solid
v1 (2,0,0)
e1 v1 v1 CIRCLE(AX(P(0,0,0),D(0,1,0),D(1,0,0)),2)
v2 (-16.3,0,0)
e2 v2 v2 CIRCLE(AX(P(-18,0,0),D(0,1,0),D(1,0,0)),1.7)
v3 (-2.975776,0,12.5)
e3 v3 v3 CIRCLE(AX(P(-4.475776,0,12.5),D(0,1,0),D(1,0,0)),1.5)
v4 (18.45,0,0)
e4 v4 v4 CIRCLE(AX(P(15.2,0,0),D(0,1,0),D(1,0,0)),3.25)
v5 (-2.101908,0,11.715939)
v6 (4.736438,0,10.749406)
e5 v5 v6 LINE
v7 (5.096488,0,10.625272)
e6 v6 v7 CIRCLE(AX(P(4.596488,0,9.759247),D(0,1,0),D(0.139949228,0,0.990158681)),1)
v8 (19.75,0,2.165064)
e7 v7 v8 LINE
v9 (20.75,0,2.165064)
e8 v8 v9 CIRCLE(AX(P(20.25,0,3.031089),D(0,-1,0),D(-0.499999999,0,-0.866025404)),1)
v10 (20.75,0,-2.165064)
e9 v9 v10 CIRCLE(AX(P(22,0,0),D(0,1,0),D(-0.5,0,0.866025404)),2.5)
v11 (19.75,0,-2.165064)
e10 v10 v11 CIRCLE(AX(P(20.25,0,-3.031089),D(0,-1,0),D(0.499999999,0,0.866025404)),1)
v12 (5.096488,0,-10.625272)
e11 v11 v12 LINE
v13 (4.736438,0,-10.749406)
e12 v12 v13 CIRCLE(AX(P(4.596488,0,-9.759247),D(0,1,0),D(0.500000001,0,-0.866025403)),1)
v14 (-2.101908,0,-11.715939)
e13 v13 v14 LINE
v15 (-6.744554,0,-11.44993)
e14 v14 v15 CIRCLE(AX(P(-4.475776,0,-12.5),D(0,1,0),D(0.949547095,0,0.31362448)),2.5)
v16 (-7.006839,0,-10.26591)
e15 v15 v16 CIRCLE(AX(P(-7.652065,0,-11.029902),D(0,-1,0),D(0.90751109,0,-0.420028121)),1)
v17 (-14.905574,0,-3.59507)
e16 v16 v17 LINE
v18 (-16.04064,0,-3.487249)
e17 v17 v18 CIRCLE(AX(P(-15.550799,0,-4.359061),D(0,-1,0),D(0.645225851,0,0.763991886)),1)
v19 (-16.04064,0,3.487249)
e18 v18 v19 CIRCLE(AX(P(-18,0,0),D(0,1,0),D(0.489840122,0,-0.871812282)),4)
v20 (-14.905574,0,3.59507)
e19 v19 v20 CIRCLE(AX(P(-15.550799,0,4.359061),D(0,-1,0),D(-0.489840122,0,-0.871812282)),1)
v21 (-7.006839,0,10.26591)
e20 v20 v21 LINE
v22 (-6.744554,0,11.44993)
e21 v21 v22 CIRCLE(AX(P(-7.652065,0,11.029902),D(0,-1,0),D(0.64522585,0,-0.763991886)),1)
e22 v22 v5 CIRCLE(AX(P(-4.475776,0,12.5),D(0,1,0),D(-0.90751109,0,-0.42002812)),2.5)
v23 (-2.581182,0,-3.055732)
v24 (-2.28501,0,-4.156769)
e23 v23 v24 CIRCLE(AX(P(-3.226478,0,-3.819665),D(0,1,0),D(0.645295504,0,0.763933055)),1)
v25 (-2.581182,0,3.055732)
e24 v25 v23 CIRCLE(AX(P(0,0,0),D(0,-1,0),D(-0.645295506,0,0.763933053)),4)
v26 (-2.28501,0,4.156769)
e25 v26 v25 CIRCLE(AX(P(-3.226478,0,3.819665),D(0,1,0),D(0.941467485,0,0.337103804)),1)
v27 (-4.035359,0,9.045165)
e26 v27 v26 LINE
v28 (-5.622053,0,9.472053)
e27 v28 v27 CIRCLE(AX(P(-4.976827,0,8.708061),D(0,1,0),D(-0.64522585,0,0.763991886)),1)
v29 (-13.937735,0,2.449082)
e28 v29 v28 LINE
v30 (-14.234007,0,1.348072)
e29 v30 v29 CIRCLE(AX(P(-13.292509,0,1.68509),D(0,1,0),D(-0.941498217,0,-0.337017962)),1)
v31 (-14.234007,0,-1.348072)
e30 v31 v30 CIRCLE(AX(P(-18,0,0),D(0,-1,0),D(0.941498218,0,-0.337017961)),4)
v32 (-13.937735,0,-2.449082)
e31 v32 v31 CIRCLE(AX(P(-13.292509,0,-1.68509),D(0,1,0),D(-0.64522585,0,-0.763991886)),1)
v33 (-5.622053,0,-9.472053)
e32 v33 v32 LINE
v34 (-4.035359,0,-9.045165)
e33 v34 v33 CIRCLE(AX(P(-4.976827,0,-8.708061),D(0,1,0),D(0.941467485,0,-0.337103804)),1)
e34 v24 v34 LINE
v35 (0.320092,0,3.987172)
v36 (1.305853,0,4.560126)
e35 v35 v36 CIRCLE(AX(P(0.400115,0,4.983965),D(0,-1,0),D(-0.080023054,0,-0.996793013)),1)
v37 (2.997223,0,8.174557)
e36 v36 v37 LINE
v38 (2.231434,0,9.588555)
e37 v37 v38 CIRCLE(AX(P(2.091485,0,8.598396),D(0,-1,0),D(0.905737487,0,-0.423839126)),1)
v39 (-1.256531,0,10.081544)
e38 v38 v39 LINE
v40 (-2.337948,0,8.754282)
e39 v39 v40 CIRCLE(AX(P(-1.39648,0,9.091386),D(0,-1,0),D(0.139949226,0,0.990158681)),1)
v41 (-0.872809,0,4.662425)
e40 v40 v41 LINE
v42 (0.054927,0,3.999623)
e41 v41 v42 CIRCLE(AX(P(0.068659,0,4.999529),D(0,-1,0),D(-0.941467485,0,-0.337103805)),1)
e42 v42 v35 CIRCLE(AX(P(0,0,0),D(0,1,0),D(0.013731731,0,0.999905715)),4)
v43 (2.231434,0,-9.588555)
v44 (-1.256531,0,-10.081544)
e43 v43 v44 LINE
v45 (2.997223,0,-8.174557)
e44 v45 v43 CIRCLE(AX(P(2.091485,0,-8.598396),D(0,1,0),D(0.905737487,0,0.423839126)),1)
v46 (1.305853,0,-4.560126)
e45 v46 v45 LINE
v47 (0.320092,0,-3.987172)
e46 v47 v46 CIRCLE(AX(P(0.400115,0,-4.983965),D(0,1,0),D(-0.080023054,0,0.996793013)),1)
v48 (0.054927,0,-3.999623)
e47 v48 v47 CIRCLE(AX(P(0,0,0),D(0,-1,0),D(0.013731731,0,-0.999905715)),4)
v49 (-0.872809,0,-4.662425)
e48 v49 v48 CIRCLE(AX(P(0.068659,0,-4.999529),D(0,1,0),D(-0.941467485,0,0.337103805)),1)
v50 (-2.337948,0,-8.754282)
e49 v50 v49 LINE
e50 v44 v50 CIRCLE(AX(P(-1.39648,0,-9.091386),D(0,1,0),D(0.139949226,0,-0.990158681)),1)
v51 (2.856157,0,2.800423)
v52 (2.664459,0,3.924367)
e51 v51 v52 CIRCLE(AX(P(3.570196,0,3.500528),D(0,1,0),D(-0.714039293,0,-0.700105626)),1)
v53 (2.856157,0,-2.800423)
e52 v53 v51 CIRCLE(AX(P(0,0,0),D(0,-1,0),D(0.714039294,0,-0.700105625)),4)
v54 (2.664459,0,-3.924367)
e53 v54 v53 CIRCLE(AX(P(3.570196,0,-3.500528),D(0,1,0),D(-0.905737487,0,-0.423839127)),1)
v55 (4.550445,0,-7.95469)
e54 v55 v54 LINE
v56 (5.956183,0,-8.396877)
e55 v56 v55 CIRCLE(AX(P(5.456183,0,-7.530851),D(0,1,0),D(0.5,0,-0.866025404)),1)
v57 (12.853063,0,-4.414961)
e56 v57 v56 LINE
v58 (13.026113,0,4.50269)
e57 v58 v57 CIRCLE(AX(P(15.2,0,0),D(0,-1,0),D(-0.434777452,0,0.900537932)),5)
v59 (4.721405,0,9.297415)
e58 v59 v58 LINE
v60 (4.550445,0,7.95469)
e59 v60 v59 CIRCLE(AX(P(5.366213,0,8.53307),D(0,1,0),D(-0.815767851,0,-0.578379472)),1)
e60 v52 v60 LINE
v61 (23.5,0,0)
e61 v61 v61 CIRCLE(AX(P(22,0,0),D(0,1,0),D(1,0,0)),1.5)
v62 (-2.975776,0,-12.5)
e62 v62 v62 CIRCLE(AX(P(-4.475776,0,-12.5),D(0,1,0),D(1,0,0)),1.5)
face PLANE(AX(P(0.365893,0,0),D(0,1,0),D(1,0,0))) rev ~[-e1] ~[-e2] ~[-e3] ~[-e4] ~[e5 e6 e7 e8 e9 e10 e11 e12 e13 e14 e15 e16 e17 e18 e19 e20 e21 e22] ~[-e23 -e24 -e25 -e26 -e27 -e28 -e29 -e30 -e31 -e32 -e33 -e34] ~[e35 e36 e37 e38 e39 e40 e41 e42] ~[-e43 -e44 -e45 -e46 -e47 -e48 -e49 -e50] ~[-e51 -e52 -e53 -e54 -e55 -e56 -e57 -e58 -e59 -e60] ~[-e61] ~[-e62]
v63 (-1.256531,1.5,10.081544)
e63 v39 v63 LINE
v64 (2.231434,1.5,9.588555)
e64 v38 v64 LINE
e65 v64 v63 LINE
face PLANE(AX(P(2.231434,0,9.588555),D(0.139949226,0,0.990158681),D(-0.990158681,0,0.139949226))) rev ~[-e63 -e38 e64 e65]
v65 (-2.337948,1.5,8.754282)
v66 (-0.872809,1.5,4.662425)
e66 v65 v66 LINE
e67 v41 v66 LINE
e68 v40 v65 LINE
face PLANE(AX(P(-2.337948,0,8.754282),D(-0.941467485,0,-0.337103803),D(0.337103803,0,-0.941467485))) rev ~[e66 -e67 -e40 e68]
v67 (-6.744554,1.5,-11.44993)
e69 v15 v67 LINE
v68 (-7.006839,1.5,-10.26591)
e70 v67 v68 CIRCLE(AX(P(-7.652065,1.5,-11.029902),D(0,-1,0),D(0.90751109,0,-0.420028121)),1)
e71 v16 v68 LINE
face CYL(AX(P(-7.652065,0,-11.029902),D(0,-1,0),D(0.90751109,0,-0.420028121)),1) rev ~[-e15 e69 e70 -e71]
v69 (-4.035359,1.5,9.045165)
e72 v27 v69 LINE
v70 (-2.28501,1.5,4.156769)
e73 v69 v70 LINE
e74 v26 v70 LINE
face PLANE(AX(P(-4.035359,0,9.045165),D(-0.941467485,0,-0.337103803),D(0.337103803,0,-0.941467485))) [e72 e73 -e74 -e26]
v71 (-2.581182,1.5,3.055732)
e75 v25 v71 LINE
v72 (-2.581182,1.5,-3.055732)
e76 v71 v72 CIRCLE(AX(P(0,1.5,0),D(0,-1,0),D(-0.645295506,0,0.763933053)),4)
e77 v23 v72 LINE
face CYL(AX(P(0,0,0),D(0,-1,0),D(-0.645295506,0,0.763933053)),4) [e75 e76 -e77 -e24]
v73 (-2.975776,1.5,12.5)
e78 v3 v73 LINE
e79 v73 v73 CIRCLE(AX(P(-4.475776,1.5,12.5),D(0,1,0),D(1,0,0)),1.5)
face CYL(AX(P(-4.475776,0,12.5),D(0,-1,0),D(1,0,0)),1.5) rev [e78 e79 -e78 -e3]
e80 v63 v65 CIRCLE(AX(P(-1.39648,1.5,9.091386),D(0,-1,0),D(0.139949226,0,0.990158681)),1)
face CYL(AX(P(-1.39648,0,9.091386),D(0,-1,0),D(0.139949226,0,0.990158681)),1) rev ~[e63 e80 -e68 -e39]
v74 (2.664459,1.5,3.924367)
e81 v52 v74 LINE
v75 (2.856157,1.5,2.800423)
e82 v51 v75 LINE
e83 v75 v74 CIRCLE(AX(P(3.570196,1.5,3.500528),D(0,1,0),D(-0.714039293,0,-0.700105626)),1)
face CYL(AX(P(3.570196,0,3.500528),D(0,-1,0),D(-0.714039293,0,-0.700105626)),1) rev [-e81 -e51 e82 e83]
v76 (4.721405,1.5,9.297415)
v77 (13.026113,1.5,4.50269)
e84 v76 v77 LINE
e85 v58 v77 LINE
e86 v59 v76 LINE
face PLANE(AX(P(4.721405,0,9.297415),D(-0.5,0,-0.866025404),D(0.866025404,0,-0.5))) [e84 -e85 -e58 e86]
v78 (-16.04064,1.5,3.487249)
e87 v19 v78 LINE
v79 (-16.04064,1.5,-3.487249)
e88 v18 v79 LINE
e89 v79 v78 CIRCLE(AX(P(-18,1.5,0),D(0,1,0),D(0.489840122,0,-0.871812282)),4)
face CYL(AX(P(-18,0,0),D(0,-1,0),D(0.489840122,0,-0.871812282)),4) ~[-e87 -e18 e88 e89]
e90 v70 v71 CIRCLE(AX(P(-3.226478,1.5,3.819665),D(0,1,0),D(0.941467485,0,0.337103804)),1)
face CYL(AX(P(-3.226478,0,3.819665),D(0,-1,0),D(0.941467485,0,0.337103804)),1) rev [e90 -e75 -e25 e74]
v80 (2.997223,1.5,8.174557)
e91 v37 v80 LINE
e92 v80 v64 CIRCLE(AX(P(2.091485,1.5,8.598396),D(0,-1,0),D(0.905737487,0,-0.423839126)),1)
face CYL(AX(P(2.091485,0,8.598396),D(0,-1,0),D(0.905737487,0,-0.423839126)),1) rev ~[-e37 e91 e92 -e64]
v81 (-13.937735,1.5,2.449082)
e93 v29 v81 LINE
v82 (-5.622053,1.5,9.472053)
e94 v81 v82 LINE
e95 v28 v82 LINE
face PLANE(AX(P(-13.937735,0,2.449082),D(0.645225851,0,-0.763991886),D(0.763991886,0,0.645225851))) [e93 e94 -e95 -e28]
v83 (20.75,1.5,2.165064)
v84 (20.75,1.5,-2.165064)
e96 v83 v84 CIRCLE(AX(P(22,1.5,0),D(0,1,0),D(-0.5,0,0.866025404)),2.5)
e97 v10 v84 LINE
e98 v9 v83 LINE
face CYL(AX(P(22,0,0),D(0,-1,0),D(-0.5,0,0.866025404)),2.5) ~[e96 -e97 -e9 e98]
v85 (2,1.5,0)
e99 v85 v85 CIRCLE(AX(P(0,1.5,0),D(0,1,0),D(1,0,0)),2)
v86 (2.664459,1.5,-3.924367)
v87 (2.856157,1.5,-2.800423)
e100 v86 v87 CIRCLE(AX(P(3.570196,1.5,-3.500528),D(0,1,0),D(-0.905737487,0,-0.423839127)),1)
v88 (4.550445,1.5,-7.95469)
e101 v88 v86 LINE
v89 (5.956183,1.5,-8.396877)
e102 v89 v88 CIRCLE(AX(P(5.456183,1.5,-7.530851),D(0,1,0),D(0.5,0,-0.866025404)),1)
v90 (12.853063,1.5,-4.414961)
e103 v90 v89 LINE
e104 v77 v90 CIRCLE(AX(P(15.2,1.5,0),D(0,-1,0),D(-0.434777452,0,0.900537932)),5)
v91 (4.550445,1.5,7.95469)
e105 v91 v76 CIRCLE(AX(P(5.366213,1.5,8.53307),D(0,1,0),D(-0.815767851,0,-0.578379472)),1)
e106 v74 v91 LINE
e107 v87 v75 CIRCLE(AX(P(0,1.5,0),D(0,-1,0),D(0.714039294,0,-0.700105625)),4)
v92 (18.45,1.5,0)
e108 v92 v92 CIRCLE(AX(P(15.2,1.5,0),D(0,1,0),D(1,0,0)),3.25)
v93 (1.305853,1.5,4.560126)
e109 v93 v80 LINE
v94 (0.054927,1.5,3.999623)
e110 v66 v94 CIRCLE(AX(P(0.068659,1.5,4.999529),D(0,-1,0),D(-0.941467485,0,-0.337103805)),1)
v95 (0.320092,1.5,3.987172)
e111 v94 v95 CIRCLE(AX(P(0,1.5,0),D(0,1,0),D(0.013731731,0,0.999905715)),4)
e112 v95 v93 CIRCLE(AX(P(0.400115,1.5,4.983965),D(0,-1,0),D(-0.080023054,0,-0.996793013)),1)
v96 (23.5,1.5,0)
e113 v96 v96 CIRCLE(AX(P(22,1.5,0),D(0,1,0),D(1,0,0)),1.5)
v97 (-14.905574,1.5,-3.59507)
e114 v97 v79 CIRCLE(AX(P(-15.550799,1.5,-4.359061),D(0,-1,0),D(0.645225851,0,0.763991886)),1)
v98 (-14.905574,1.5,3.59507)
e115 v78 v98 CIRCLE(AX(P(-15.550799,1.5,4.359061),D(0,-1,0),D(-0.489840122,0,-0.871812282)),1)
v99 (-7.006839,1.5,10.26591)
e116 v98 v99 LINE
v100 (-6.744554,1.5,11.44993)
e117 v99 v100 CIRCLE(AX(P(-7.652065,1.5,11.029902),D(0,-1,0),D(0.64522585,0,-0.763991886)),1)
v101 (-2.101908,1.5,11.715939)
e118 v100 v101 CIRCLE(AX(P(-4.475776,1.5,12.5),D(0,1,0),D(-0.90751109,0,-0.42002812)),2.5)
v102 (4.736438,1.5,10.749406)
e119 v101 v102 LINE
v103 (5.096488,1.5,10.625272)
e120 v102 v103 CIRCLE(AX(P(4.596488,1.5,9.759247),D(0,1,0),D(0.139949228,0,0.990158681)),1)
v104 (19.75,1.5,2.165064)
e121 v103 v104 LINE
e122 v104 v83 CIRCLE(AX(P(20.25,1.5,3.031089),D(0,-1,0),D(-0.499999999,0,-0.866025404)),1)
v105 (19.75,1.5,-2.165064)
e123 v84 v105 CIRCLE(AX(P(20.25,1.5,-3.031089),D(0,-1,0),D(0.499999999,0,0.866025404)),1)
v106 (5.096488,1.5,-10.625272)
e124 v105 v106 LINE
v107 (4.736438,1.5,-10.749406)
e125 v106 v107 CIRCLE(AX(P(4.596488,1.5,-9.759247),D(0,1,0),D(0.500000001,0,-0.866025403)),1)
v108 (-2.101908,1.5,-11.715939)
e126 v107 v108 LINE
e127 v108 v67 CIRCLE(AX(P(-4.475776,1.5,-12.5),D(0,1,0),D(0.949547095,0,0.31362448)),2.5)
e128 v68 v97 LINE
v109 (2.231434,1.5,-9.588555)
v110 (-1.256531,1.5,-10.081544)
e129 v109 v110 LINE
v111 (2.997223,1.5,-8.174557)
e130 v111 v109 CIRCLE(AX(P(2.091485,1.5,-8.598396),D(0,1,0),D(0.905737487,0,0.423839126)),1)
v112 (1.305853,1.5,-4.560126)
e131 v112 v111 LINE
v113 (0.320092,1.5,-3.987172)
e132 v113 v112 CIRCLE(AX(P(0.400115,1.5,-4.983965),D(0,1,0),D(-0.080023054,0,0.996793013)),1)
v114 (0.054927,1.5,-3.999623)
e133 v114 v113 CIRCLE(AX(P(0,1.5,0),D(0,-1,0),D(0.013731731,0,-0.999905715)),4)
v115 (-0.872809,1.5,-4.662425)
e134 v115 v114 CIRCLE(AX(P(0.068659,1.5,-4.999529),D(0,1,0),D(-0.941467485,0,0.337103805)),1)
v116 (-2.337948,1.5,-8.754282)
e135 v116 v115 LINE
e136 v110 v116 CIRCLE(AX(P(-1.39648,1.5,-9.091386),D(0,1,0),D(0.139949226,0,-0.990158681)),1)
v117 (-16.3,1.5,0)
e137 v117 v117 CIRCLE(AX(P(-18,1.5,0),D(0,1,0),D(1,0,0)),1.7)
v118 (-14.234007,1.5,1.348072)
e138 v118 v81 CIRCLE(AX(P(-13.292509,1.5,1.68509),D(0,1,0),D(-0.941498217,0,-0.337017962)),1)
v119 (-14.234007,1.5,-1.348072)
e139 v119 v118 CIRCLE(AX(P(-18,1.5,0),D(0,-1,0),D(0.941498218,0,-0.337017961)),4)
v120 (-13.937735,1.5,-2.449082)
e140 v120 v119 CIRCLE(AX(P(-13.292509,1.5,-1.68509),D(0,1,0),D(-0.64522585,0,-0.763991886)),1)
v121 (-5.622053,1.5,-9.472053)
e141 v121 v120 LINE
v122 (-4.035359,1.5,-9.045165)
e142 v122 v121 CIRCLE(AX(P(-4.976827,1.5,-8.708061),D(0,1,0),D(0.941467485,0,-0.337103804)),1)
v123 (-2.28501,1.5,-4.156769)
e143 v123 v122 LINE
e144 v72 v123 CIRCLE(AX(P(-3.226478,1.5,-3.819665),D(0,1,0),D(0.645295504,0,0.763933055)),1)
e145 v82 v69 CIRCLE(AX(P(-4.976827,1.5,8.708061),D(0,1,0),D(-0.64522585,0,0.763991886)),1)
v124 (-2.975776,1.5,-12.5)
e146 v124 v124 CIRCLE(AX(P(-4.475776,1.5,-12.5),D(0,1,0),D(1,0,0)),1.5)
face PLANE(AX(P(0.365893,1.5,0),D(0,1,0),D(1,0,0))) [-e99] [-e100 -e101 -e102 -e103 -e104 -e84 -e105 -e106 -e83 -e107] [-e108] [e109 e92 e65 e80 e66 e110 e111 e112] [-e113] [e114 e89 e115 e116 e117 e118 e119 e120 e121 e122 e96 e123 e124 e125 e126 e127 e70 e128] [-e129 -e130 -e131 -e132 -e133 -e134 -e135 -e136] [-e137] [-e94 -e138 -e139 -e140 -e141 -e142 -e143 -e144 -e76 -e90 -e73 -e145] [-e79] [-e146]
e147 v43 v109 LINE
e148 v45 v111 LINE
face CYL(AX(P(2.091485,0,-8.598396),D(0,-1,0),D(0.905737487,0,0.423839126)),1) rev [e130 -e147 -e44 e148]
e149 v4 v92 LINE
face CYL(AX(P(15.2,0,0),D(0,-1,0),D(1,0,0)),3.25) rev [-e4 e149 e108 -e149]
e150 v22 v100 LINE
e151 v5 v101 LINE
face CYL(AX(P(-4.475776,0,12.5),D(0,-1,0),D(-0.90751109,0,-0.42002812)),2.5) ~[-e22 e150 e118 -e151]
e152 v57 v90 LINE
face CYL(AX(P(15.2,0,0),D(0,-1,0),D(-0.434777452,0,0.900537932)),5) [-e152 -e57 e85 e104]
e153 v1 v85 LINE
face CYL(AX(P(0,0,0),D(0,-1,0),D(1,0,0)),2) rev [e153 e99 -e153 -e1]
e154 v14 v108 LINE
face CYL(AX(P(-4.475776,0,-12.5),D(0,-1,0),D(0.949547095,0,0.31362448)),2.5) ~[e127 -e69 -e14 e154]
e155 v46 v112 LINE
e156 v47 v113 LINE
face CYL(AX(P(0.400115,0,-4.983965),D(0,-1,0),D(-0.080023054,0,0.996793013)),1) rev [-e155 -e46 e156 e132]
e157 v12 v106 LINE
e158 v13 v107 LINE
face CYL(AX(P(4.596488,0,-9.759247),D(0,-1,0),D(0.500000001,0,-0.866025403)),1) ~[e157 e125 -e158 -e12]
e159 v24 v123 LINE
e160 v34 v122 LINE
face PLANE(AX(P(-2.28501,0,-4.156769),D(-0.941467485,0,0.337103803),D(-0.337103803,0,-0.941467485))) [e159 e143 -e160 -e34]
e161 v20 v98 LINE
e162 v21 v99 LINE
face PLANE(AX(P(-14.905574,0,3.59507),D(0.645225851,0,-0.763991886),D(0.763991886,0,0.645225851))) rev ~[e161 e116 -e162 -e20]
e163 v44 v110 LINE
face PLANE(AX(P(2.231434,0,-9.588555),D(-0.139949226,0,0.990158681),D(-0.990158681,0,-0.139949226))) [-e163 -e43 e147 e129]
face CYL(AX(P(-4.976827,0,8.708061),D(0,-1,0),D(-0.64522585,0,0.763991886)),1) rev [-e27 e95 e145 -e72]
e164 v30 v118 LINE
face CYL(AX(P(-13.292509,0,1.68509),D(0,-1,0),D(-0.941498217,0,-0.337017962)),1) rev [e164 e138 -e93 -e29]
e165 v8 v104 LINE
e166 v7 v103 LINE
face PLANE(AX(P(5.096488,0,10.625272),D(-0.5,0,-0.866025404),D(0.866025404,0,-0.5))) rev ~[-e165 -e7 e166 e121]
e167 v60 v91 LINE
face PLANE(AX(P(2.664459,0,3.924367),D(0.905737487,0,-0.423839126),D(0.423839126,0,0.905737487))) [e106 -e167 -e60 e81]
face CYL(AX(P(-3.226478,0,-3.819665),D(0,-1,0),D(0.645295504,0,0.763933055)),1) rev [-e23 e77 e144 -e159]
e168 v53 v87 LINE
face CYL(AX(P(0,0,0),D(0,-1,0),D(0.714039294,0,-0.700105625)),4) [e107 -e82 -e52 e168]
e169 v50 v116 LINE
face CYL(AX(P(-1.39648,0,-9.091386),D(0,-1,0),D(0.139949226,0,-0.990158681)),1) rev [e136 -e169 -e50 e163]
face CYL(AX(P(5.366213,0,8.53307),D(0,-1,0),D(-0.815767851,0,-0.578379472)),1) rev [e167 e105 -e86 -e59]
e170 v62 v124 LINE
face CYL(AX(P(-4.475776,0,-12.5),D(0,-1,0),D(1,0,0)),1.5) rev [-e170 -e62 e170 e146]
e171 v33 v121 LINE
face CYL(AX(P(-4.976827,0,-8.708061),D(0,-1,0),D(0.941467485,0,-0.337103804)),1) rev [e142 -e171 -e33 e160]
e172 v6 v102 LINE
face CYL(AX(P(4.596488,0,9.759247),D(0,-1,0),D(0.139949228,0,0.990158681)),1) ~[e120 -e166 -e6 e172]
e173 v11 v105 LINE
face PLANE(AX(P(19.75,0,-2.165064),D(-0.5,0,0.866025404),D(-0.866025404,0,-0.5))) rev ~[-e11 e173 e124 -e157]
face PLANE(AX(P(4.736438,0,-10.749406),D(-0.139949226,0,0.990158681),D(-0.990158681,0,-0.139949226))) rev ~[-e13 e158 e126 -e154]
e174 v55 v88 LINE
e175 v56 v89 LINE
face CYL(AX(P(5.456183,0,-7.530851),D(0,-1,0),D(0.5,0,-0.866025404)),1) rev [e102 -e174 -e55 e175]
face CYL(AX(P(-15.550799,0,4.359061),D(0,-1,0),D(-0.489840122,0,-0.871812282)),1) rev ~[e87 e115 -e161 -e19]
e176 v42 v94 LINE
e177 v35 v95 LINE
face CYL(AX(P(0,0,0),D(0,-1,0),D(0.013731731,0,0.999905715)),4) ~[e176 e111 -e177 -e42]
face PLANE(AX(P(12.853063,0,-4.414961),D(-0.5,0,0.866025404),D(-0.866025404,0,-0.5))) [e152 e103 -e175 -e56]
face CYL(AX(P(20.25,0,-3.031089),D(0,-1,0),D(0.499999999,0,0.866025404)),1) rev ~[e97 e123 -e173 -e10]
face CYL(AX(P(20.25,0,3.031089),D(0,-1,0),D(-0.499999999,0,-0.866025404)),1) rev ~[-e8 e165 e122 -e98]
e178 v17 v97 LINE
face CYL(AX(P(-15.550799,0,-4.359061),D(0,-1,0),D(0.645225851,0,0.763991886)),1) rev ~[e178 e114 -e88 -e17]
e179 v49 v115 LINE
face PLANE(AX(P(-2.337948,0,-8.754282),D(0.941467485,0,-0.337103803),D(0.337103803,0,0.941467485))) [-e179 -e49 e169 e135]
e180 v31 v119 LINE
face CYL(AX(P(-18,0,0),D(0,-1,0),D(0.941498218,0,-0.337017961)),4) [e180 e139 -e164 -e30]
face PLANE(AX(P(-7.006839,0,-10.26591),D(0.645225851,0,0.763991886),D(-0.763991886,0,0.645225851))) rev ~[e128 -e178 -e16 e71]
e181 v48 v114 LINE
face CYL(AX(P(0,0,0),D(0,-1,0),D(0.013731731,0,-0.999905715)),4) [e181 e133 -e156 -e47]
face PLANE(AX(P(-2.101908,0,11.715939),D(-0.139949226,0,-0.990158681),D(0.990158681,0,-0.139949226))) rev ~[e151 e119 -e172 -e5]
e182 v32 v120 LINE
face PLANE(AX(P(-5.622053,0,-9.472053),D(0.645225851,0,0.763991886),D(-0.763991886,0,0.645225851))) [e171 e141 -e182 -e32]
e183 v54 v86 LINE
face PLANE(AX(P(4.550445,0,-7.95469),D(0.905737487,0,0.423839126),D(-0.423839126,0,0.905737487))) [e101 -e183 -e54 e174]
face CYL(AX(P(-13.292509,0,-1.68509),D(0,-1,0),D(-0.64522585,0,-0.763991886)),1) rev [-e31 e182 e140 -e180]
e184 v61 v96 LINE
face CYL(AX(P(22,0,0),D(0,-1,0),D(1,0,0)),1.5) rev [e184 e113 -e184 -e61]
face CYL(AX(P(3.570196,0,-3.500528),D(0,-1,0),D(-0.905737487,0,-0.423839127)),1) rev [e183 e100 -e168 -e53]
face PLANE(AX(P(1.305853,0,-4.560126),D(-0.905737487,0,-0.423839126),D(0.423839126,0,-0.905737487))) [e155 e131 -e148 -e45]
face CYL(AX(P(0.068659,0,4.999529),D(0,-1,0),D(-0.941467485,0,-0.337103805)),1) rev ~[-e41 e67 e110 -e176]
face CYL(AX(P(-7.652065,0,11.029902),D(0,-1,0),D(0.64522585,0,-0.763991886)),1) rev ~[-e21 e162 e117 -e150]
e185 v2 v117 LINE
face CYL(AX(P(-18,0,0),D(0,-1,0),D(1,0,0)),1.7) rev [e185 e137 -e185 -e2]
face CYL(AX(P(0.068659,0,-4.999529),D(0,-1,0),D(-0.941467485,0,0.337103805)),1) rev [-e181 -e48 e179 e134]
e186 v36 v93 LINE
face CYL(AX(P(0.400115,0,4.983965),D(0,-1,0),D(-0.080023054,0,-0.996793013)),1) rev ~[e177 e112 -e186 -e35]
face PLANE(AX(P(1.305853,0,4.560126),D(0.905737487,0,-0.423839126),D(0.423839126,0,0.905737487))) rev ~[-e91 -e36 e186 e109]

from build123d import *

# Parameters (mm, degrees)
SKETCH_1_R      = 2
SKETCH_1_R_2    = 1.7
SKETCH_1_R_3    = 1.5
SKETCH_1_R_4    = 3.25
EXTRUDE_1_DEPTH = 1.5


with BuildPart() as part:
    # 草图1 → 凸台-拉伸1 (new body)
    with BuildSketch(Plane(origin=(0, 0, 0), x_dir=(1, 0, 0), z_dir=(0, 1, 0))):
        with BuildLine():
            Line((19.75, 2.165063509), (5.096488448, 10.625272348))
            ThreePointArc((5.096488448, 10.625272348), (4.922427124, 10.704637858), (4.736437674, 10.749405626))
            Line((4.736437674, 10.749405626), (-2.101908222, 11.7159388))
            ThreePointArc((-2.101908222, 11.7159388), (-4.61878361, 14.995906411), (-6.744553684, 11.449929699))
            ThreePointArc((-6.744553684, 11.449929699), (-6.675732942, 10.813623622), (-7.006838923, 10.265909693))
            Line((-7.006838923, 10.265909693), (-14.905573539, 3.595069524))
            ThreePointArc((-14.905573539, 3.595069524), (-15.456234647, 3.363542696), (-16.040639512, 3.487249128))
            ThreePointArc((-16.040639512, 3.487249128), (-22, 0), (-16.040639512, -3.487249128))
            ThreePointArc((-16.040639512, -3.487249128), (-15.456234647, -3.363542696), (-14.905573539, -3.595069524))
            Line((-14.905573539, -3.595069524), (-7.006838923, -10.265909693))
            ThreePointArc((-7.006838923, -10.265909693), (-6.675732942, -10.813623622), (-6.744553684, -11.449929699))
            ThreePointArc((-6.744553684, -11.449929699), (-4.61878361, -14.995906411), (-2.101908222, -11.7159388))
            Line((-2.101908222, -11.7159388), (4.736437674, -10.749405626))
            ThreePointArc((4.736437674, -10.749405626), (4.922427124, -10.704637858), (5.096488448, -10.625272348))
            Line((5.096488448, -10.625272348), (19.75, -2.165063509))
            ThreePointArc((19.75, -2.165063509), (20.25, -2.031088913), (20.75, -2.165063509))
            ThreePointArc((20.75, -2.165063509), (24.5, 0), (20.75, 2.165063509))
            ThreePointArc((20.75, 2.165063509), (20.25, 2.031088913), (19.75, 2.165063509))
        make_face()
        Circle(SKETCH_1_R, mode=Mode.SUBTRACT)
        with Locations((-18, 0)):
            Circle(SKETCH_1_R_2, mode=Mode.SUBTRACT)
        with Locations((22, 0)):
            Circle(SKETCH_1_R_3, mode=Mode.SUBTRACT)
        with Locations((-4.47577596, 12.5)):
            Circle(SKETCH_1_R_3, mode=Mode.SUBTRACT)
        with Locations((-4.47577596, -12.5)):
            Circle(SKETCH_1_R_3, mode=Mode.SUBTRACT)
        with Locations((15.2, 0)):
            Circle(SKETCH_1_R_4, mode=Mode.SUBTRACT)
        with BuildLine():
            Line((2.23143448, 9.588554578), (-1.256530939, 10.081544307))
            ThreePointArc((-1.256530939, 10.081544307), (-2.171731289, 9.72303877), (-2.33794765, 8.754281823))
            Line((-2.33794765, 8.754281823), (-0.872808817, 4.662424773))
            ThreePointArc((-0.872808817, 4.662424773), (-0.512657064, 4.185850496), (0.054926934, 3.999622861))
            ThreePointArc((0.054926934, 3.999622861), (0.187612888, 3.995597753), (0.320092213, 3.987172052))
            ThreePointArc((0.320092213, 3.987172052), (0.902629068, 4.119395878), (1.305852753, 4.56012594))
            Line((1.305852753, 4.56012594), (2.997222742, 8.174556771))
            ThreePointArc((2.997222742, 8.174556771), (2.970810351, 9.074617878), (2.23143448, 9.588554578))
        make_face(mode=Mode.SUBTRACT)
        with BuildLine():
            Line((12.853062501, 4.414961424), (5.956182941, 8.396876694))
            ThreePointArc((5.956182941, 8.396876694), (5.156119776, 8.484770625), (4.550445454, 7.954690416))
            Line((4.550445454, 7.954690416), (2.664458984, 3.924367251))
            ThreePointArc((2.664458984, 3.924367251), (2.584431714, 3.332397688), (2.856157177, 2.800422501))
            ThreePointArc((2.856157177, 2.800422501), (4, 0), (2.856157177, -2.800422501))
            ThreePointArc((2.856157177, -2.800422501), (2.584431714, -3.332397688), (2.664458984, -3.924367251))
            Line((2.664458984, -3.924367251), (4.550445454, -7.954690416))
            ThreePointArc((4.550445454, -7.954690416), (4.374221674, -8.659373504), (4.721405489, -9.297414626))
            Line((4.721405489, -9.297414626), (13.026112738, -4.50268966))
            ThreePointArc((13.026112738, -4.50268966), (10.200941154, -0.097008541), (12.853062501, 4.414961424))
        make_face(mode=Mode.SUBTRACT)
        with BuildLine():
            Line((-2.33794765, -8.754281823), (-0.872808817, -4.662424773))
            ThreePointArc((-0.872808817, -4.662424773), (-0.512657064, -4.185850496), (0.054926934, -3.999622861))
            ThreePointArc((0.054926934, -3.999622861), (0.187612888, -3.995597753), (0.320092213, -3.987172052))
            ThreePointArc((0.320092213, -3.987172052), (0.902629068, -4.119395878), (1.305852753, -4.56012594))
            Line((1.305852753, -4.56012594), (2.997222742, -8.174556771))
            ThreePointArc((2.997222742, -8.174556771), (2.970810351, -9.074617878), (2.23143448, -9.588554578))
            Line((2.23143448, -9.588554578), (-1.256530939, -10.081544307))
            ThreePointArc((-1.256530939, -10.081544307), (-2.171731289, -9.72303877), (-2.33794765, -8.754281823))
        make_face(mode=Mode.SUBTRACT)
        with BuildLine():
            Line((-5.622052564, 9.472053038), (-13.937734763, 2.449081695))
            ThreePointArc((-13.937734763, 2.449081695), (-14.258158429, 1.944937864), (-14.23400713, 1.348071847))
            ThreePointArc((-14.23400713, 1.348071847), (-14, 0), (-14.23400713, -1.348071847))
            ThreePointArc((-14.23400713, -1.348071847), (-14.258158429, -1.944937864), (-13.937734763, -2.449081695))
            Line((-13.937734763, -2.449081695), (-5.622052564, -9.472053038))
            ThreePointArc((-5.622052564, -9.472053038), (-4.717022681, -9.673722513), (-4.035359228, -9.045164955))
            Line((-4.035359228, -9.045164955), (-2.285010045, -4.156769069))
            ThreePointArc((-2.285010045, -4.156769069), (-2.260804326, -3.559905256), (-2.581182025, -3.055732213))
            ThreePointArc((-2.581182025, -3.055732213), (-4, 0), (-2.581182025, 3.055732213))
            ThreePointArc((-2.581182025, 3.055732213), (-2.260804326, 3.559905256), (-2.285010045, 4.156769069))
            Line((-2.285010045, 4.156769069), (-4.035359228, 9.045164955))
            ThreePointArc((-4.035359228, 9.045164955), (-4.717022681, 9.673722513), (-5.622052564, 9.472053038))
        make_face(mode=Mode.SUBTRACT)
    extrude(amount=EXTRUDE_1_DEPTH)


solid = part.part
